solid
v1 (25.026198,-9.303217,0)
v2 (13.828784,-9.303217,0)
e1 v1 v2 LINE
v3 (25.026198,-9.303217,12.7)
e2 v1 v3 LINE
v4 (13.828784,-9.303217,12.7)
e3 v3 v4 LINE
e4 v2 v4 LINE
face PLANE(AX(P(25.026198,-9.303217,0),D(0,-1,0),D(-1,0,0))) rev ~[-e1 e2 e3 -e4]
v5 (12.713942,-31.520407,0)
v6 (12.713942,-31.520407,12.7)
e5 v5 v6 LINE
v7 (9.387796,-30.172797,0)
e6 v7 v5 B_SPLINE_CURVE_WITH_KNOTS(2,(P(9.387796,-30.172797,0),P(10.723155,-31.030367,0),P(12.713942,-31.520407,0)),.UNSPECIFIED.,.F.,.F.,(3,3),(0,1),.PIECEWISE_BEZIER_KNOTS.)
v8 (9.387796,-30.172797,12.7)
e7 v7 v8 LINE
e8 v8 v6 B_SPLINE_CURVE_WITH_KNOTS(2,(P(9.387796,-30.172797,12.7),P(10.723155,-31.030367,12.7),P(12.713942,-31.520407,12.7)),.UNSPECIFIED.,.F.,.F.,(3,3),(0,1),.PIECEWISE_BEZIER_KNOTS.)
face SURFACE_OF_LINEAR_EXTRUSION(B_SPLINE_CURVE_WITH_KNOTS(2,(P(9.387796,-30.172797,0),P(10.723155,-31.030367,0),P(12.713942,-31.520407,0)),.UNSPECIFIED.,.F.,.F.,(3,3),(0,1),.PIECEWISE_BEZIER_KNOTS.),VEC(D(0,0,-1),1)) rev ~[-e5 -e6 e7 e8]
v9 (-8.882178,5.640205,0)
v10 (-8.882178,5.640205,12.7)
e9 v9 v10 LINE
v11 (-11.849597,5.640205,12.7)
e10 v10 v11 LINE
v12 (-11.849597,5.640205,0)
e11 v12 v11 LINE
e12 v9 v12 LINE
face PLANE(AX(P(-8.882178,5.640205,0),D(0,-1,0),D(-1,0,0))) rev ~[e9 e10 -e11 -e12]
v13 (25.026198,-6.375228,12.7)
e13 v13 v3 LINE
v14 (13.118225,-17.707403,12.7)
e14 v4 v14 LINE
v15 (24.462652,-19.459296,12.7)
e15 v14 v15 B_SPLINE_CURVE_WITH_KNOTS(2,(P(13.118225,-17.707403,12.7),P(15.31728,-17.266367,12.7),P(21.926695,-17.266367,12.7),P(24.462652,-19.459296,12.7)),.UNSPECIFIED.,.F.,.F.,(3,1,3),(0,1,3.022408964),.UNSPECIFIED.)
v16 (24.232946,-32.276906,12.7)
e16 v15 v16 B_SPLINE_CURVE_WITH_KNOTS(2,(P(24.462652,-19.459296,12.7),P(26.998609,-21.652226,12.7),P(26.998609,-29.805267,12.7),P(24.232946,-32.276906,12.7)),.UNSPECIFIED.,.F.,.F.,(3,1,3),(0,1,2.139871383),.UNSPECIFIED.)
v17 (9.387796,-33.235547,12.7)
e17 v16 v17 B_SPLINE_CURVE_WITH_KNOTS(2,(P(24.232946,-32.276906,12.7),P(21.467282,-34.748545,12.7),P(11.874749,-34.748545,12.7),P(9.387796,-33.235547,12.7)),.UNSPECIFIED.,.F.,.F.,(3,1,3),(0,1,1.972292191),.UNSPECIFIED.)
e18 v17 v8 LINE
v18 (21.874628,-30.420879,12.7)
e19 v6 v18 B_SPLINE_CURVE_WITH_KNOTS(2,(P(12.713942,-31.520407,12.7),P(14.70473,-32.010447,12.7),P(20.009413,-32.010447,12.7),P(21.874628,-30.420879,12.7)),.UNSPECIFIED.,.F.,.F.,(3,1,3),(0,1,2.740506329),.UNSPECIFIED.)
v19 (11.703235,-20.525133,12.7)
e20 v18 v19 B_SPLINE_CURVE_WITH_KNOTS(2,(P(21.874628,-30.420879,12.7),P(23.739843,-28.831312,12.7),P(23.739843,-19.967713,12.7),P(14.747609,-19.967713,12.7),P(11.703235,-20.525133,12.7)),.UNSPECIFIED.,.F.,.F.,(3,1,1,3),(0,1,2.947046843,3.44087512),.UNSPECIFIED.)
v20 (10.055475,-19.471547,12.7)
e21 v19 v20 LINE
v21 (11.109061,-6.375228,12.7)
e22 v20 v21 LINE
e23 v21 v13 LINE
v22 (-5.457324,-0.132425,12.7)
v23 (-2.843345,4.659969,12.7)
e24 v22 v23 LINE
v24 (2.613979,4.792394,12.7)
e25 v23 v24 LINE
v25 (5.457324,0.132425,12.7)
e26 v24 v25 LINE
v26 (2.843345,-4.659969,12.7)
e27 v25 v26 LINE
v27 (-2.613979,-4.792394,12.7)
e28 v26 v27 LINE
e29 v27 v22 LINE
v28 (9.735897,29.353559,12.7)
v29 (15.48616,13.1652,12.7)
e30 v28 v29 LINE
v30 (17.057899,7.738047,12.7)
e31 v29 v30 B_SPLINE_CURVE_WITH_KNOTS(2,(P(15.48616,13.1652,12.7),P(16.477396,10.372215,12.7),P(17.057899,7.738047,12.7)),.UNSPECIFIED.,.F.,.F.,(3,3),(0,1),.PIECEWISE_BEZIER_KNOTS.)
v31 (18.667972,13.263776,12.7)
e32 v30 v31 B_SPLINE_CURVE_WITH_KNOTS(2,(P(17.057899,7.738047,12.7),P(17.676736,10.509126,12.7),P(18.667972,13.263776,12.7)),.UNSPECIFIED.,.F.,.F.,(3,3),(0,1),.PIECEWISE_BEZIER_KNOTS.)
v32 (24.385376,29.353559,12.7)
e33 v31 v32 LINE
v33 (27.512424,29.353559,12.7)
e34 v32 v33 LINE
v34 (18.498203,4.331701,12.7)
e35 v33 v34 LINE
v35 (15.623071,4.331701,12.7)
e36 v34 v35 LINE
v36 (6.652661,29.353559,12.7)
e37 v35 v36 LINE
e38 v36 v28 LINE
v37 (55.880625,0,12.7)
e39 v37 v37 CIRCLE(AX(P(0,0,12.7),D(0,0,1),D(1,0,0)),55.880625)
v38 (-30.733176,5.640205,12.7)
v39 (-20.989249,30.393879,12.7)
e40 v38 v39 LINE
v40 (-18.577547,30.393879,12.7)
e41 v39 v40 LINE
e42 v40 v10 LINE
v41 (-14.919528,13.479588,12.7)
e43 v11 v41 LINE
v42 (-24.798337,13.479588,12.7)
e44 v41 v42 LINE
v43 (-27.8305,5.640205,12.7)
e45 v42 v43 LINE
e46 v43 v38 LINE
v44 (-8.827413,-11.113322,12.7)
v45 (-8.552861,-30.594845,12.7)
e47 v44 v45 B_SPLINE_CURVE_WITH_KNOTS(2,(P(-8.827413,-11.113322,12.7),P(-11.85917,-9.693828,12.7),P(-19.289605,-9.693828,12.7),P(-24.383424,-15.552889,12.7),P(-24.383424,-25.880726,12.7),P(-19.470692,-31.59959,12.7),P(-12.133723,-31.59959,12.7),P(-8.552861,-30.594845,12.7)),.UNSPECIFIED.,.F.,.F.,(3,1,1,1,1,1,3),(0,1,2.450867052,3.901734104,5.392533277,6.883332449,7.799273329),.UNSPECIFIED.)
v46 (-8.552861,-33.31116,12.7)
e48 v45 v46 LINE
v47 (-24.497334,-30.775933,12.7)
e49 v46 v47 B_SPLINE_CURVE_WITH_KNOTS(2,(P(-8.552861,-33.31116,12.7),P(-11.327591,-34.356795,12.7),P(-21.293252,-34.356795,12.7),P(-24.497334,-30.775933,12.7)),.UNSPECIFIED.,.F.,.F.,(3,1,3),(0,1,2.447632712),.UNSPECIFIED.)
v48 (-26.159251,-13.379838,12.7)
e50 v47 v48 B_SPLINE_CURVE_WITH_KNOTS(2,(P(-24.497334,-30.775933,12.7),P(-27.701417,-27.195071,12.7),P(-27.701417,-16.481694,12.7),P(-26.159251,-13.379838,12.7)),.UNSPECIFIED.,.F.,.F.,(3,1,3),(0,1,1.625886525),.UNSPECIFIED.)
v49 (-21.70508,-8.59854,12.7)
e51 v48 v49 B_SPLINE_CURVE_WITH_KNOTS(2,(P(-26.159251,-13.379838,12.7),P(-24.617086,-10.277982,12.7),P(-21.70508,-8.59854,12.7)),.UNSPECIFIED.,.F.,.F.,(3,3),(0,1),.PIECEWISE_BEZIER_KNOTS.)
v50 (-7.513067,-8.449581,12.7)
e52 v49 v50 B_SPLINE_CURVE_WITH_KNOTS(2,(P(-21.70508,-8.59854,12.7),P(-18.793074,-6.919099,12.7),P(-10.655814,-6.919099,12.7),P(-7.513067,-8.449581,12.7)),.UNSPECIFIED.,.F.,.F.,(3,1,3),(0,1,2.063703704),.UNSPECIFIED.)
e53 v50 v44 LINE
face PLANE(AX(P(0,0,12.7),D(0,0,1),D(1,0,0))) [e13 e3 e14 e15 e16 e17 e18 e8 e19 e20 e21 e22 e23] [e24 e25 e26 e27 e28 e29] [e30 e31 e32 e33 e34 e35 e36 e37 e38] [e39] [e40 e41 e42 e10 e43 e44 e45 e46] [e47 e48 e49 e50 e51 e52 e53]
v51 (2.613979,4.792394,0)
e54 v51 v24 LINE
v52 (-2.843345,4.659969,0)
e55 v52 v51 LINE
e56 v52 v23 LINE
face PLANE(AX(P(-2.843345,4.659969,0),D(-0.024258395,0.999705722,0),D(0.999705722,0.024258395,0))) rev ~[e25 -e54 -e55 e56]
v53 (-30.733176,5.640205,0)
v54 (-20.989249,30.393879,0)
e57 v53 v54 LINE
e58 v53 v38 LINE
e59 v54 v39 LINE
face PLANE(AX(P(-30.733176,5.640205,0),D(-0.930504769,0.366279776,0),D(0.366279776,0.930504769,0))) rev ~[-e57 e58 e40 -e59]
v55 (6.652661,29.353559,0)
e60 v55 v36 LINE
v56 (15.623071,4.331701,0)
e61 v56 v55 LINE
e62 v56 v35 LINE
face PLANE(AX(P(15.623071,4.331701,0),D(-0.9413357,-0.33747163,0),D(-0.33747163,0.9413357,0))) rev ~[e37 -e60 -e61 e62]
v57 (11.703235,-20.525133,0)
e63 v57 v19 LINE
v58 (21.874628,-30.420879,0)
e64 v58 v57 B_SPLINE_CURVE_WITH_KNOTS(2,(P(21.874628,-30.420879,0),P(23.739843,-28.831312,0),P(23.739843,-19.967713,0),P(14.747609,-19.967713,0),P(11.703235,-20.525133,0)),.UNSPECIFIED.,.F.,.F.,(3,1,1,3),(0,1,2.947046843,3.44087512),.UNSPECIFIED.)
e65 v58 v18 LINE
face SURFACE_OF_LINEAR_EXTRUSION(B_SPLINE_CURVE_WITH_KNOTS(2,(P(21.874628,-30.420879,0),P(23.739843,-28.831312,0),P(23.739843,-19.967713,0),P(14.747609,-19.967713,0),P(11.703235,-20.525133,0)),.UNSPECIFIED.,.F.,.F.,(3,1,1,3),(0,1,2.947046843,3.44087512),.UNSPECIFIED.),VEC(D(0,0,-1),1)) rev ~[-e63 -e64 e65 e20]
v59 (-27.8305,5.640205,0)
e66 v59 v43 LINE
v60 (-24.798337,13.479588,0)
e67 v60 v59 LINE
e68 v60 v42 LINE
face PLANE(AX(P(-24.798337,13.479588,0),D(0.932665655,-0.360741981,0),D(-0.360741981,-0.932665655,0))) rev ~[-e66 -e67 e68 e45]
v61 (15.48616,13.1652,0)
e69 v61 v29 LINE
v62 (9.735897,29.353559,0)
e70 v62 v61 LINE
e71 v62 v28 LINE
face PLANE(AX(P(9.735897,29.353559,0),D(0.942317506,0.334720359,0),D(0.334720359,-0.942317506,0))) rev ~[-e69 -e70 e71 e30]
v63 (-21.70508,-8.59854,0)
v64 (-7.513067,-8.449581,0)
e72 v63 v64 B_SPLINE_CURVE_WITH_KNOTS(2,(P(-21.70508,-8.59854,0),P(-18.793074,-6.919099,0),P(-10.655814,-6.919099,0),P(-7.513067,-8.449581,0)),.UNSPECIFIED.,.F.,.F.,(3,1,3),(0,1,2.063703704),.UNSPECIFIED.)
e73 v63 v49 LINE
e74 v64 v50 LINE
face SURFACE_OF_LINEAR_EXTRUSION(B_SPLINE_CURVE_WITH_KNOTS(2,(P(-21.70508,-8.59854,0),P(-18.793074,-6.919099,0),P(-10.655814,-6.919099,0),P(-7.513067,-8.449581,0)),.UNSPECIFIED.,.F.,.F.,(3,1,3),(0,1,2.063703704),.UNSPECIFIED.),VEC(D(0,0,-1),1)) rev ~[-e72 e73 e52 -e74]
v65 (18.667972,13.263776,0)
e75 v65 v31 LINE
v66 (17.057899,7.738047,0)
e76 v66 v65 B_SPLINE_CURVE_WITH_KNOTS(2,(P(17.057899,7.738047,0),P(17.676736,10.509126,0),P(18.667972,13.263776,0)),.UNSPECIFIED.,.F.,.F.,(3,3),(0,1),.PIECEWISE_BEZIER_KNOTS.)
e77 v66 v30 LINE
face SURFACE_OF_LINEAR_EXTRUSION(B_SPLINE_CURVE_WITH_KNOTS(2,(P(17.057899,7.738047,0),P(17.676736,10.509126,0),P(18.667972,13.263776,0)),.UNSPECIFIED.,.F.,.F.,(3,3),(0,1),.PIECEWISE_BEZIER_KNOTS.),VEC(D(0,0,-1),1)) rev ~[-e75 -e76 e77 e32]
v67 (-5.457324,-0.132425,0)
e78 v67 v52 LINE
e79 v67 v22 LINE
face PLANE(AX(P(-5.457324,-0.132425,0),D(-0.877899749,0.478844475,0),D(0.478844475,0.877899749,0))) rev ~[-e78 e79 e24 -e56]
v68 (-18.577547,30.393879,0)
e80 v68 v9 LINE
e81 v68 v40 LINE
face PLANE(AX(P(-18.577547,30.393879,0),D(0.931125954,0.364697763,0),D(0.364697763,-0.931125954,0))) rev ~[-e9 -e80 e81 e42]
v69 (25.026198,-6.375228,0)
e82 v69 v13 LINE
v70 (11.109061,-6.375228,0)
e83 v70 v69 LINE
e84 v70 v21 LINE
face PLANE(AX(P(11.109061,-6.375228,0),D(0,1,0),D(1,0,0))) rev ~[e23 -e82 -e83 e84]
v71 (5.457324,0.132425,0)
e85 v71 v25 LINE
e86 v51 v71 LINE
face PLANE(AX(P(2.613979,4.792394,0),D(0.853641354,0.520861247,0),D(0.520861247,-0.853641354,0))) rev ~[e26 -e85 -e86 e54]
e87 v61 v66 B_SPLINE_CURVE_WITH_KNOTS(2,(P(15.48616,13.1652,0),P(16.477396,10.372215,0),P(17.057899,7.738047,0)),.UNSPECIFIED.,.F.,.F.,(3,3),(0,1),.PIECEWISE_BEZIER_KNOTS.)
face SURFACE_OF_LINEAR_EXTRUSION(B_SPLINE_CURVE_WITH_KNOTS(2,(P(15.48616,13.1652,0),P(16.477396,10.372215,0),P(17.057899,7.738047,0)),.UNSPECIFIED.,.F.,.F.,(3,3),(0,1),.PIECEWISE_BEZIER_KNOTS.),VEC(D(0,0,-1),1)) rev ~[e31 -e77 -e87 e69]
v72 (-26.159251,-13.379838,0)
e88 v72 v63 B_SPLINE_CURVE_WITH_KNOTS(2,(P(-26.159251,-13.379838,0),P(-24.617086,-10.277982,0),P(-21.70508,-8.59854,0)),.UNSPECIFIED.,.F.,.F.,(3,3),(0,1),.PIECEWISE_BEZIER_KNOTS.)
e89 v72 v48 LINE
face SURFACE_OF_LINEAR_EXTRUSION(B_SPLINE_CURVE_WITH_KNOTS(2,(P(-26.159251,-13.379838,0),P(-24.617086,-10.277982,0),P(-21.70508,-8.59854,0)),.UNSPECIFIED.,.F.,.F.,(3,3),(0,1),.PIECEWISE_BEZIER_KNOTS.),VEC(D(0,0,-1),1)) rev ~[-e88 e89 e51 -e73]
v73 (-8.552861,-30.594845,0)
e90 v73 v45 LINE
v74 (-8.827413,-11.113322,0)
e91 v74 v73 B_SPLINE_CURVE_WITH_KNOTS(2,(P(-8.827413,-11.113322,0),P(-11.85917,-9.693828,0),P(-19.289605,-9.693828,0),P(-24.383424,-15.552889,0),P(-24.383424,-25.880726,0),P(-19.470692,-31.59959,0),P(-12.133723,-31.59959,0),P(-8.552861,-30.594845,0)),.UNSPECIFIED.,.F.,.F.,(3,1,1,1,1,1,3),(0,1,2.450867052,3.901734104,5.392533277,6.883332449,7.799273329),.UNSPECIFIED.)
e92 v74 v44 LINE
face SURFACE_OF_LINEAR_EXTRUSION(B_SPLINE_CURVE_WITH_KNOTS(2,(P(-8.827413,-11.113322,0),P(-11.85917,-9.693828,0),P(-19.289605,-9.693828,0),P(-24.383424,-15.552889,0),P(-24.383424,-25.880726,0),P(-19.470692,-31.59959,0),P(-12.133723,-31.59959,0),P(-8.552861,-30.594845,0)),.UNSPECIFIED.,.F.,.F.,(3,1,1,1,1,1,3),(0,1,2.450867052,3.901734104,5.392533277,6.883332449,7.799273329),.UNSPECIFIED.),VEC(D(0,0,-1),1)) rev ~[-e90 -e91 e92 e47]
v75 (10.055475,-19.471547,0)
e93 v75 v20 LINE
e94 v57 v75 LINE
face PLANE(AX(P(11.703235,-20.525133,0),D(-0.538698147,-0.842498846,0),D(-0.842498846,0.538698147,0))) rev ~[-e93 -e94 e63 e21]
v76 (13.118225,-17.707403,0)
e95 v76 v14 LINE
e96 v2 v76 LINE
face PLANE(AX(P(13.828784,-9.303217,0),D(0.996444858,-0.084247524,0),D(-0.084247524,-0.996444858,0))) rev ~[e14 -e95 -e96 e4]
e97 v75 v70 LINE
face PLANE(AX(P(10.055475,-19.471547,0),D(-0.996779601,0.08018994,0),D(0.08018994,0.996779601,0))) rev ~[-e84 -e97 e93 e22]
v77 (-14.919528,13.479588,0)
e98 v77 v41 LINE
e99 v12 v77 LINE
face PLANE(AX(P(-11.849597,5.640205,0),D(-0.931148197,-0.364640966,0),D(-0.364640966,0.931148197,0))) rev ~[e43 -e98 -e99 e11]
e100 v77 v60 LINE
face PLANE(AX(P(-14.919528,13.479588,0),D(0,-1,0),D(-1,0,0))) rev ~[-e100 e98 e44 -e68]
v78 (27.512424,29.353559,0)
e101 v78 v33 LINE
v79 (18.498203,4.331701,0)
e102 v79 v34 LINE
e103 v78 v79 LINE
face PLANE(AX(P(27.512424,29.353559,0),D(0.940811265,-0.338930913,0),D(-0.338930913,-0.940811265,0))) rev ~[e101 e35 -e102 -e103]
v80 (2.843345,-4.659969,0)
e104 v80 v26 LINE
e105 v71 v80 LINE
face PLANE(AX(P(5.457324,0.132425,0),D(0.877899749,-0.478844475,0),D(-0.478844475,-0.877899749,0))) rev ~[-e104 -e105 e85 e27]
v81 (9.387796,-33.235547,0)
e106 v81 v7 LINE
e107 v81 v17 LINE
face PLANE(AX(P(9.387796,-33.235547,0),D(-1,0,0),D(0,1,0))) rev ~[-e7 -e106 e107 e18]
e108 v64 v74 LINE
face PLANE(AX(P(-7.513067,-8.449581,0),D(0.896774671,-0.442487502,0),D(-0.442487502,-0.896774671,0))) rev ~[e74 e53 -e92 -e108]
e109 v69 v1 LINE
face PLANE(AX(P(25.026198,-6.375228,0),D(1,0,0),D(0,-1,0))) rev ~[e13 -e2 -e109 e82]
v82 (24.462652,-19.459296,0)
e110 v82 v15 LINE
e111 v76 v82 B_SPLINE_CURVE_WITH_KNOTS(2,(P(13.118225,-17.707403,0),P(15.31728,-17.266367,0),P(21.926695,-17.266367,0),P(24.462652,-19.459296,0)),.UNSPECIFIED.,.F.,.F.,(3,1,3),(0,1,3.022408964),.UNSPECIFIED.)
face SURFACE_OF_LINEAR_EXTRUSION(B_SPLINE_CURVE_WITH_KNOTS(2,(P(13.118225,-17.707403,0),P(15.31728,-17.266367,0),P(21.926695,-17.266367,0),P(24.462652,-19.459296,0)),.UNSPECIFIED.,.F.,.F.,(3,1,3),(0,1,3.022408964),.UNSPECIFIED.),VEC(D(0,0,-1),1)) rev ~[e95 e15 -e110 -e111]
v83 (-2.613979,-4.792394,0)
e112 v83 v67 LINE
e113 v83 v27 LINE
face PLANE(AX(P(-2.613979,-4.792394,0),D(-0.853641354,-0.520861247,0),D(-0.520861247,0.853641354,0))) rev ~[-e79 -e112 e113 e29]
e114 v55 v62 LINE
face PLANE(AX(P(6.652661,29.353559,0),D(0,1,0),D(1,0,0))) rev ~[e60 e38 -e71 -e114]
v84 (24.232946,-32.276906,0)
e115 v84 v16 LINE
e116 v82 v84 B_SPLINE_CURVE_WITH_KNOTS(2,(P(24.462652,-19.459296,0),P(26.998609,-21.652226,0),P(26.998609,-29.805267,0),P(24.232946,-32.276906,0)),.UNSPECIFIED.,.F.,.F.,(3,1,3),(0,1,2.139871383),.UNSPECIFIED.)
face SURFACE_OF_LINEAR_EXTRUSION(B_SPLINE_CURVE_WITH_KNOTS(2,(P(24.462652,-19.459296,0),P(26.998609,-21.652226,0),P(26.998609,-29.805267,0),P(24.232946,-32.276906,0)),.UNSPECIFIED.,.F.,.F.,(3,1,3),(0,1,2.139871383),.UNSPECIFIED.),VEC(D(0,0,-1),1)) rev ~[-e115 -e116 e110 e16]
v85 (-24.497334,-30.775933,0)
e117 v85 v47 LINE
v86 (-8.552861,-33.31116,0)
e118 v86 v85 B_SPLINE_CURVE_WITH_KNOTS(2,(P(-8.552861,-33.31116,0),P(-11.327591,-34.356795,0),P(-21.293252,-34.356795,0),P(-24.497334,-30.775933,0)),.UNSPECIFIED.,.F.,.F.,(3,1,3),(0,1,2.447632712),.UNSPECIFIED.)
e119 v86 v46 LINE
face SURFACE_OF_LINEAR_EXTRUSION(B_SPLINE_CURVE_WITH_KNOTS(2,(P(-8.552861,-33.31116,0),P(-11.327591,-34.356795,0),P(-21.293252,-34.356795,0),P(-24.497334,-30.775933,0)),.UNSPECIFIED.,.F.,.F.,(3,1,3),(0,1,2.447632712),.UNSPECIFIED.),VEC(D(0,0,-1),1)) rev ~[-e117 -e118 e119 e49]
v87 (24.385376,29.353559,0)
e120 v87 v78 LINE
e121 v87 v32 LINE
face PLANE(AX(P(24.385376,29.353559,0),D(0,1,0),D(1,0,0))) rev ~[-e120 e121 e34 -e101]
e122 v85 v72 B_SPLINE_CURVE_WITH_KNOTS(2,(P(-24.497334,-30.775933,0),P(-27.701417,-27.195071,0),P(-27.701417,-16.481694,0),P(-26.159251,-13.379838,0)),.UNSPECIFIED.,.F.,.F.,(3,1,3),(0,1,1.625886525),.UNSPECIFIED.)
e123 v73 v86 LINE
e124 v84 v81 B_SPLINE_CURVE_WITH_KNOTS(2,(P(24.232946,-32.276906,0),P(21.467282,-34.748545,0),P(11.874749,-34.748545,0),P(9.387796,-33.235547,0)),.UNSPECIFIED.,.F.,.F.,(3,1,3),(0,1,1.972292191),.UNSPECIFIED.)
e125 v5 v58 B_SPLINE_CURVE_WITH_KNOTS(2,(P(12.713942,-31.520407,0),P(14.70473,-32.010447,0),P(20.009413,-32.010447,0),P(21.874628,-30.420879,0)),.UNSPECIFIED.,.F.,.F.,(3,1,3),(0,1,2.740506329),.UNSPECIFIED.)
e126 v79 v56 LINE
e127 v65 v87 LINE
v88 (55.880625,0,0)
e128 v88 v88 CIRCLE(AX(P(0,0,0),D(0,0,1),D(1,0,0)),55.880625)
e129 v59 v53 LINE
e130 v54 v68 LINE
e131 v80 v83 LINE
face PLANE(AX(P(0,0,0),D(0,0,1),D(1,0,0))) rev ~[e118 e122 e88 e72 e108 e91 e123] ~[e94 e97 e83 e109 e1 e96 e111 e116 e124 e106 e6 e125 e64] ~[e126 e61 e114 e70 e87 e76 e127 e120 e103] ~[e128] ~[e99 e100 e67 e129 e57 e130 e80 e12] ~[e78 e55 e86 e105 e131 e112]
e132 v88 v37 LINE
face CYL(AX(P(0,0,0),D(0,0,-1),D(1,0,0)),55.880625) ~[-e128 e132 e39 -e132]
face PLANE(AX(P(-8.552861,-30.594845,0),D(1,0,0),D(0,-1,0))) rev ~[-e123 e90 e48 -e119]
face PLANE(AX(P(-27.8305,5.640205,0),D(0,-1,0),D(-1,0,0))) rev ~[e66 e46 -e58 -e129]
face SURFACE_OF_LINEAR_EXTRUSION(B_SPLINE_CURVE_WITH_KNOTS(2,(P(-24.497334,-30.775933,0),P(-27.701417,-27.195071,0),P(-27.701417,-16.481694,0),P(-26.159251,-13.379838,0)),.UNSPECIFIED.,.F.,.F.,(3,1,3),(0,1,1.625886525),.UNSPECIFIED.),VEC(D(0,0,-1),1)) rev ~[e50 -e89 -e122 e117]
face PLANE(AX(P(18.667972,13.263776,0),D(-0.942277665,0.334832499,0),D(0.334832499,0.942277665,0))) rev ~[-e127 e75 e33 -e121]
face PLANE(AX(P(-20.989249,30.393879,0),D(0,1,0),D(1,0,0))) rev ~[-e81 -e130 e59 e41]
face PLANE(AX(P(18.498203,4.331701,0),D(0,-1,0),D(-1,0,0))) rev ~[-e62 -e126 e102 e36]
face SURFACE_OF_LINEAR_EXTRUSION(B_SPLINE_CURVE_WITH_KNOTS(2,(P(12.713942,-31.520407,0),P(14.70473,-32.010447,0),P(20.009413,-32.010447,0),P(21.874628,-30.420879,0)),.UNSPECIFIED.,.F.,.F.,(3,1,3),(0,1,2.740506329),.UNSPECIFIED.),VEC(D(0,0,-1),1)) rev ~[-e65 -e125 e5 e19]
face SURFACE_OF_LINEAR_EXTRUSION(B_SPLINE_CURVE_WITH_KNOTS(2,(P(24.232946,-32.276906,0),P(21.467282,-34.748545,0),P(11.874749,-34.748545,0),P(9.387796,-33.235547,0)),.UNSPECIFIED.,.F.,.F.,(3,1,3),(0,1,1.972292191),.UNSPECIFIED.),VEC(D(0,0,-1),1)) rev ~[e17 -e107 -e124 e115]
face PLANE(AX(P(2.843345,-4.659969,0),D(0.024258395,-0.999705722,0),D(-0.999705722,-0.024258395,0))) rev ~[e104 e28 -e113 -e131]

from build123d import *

# Parameters (mm, degrees)
F0_R     = 55.8806252639
F1_DEPTH = 12.7


with BuildPart() as f1:
    # F0 (on Top) → F1 (new body)
    with BuildSketch(Plane.XY):
        Circle(F0_R)
        with BuildLine():
            add(Edge.make_bspline(
                [(-8.8274130972, -11.1133217732), (-11.8591704488, -9.6938284468), (-14.8909278004, -9.6938284468)],
                knots=[0, 0, 0, 1, 1, 1], degree=2))
            add(Edge.make_bspline(
                [(-14.8909278004, -9.6938284468), (-19.2896046515, -9.6938284468), (-21.8365144883, -12.6233589127)],
                knots=[0, 0, 0, 1, 1, 1], degree=2))
            add(Edge.make_bspline(
                [(-21.8365144883, -12.6233589127), (-24.3834243251, -15.5528893786), (-24.3834243251, -20.6467090522)],
                knots=[0, 0, 0, 1, 1, 1], degree=2))
            add(Edge.make_bspline(
                [(-24.3834243251, -20.6467090522), (-24.3834243251, -25.8807255975), (-21.9270583013, -28.7401576276)],
                knots=[0, 0, 0, 1, 1, 1], degree=2))
            add(Edge.make_bspline(
                [(-21.9270583013, -28.7401576276), (-19.4706922775, -31.5995896577), (-14.9259770183, -31.5995896577)],
                knots=[0, 0, 0, 1, 1, 1], degree=2))
            add(Edge.make_bspline(
                [(-14.9259770183, -31.5995896577), (-12.133722656, -31.5995896577), (-8.55286089, -30.5948454101)],
                knots=[0, 0, 0, 1, 1, 1], degree=2))
            Line((-8.55286089, -30.5948454101), (-8.55286089, -33.3111598003))
            add(Edge.make_bspline(
                [(-8.55286089, -33.3111598003), (-11.3275906434, -34.3567948021), (-15.3991414605, -34.3567948021)],
                knots=[0, 0, 0, 1, 1, 1], degree=2))
            add(Edge.make_bspline(
                [(-15.3991414605, -34.3567948021), (-21.2932516103, -34.3567948021), (-24.4973342834, -30.7759330361)],
                knots=[0, 0, 0, 1, 1, 1], degree=2))
            add(Edge.make_bspline(
                [(-24.4973342834, -30.7759330361), (-27.7014169565, -27.1950712702), (-27.7014169565, -20.605818298)],
                knots=[0, 0, 0, 1, 1, 1], degree=2))
            add(Edge.make_bspline(
                [(-27.7014169565, -20.605818298), (-27.7014169565, -16.481693654), (-26.1592513673, -13.3798378665)],
                knots=[0, 0, 0, 1, 1, 1], degree=2))
            add(Edge.make_bspline(
                [(-26.1592513673, -13.3798378665), (-24.617085778, -10.2779820791), (-21.705079921, -8.5985403862)],
                knots=[0, 0, 0, 1, 1, 1], degree=2))
            add(Edge.make_bspline(
                [(-21.705079921, -8.5985403862), (-18.7930740641, -6.9190986934), (-14.8500370461, -6.9190986934)],
                knots=[0, 0, 0, 1, 1, 1], degree=2))
            add(Edge.make_bspline(
                [(-14.8500370461, -6.9190986934), (-10.6558139663, -6.9190986934), (-7.5130674245, -8.44958121)],
                knots=[0, 0, 0, 1, 1, 1], degree=2))
            Line((-7.5130674245, -8.44958121), (-8.8274130972, -11.1133217732))
        make_face(mode=Mode.SUBTRACT)
        Polygon((-2.8433452334, 4.6599686343), (2.6139786014, 4.792393521), (5.4573238349, 0.1324248867), (2.8433452334, -4.6599686343), (-2.6139786014, -4.792393521), (-5.4573238349, -0.1324248867), align=None, mode=Mode.SUBTRACT)
        with BuildLine():
            add(Edge.make_bspline(
                [(13.118225471, -17.7074033137), (15.3172801058, -17.2663672866), (17.5040837399, -17.2663672866)],
                knots=[0, 0, 0, 1, 1, 1], degree=2))
            add(Edge.make_bspline(
                [(17.5040837399, -17.2663672866), (21.926695011, -17.2663672866), (24.4626521665, -19.4592964211)],
                knots=[0, 0, 0, 1, 1, 1], degree=2))
            add(Edge.make_bspline(
                [(24.4626521665, -19.4592964211), (26.998609322, -21.6522255555), (26.998609322, -25.4622867892)],
                knots=[0, 0, 0, 1, 1, 1], degree=2))
            add(Edge.make_bspline(
                [(26.998609322, -25.4622867892), (26.998609322, -29.8052665554), (24.2329459024, -32.276905957)],
                knots=[0, 0, 0, 1, 1, 1], degree=2))
            add(Edge.make_bspline(
                [(24.2329459024, -32.276905957), (21.4672824829, -34.7485453585), (16.6036351847, -34.7485453585)],
                knots=[0, 0, 0, 1, 1, 1], degree=2))
            add(Edge.make_bspline(
                [(16.6036351847, -34.7485453585), (11.8747488947, -34.7485453585), (9.3877957422, -33.2355467658)],
                knots=[0, 0, 0, 1, 1, 1], degree=2))
            Line((9.3877957422, -33.2355467658), (9.3877957422, -30.172796578))
            add(Edge.make_bspline(
                [(9.3877957422, -30.172796578), (10.7231548241, -31.0303666306), (12.7139424462, -31.5204066606)],
                knots=[0, 0, 0, 1, 1, 1], degree=2))
            add(Edge.make_bspline(
                [(12.7139424462, -31.5204066606), (14.7047300682, -32.0104466906), (16.6403881869, -32.0104466906)],
                knots=[0, 0, 0, 1, 1, 1], degree=2))
            add(Edge.make_bspline(
                [(16.6403881869, -32.0104466906), (20.0094133935, -32.0104466906), (21.8746282578, -30.4208793432)],
                knots=[0, 0, 0, 1, 1, 1], degree=2))
            add(Edge.make_bspline(
                [(21.8746282578, -30.4208793432), (23.7398431222, -28.8313119957), (23.7398431222, -25.8236913113)],
                knots=[0, 0, 0, 1, 1, 1], degree=2))
            add(Edge.make_bspline(
                [(23.7398431222, -25.8236913113), (23.7398431222, -19.9677129523), (16.5668821824, -19.9677129523)],
                knots=[0, 0, 0, 1, 1, 1], degree=2))
            add(Edge.make_bspline(
                [(16.5668821824, -19.9677129523), (14.7476085709, -19.9677129523), (11.7032348842, -20.5251334864)],
                knots=[0, 0, 0, 1, 1, 1], degree=2))
            Line((11.7032348842, -20.5251334864), (10.0554752832, -19.4715474218))
            Line((10.0554752832, -19.4715474218), (11.1090613478, -6.3752276189))
            Line((11.1090613478, -6.3752276189), (25.0261982011, -6.3752276189))
            Line((25.0261982011, -6.3752276189), (25.0261982011, -9.3032167984))
            Line((25.0261982011, -9.3032167984), (13.8287835145, -9.3032167984))
            Line((13.8287835145, -9.3032167984), (13.118225471, -17.7074033137))
        make_face(mode=Mode.SUBTRACT)
        Polygon((-8.8821777954, 5.6402049959), (-11.8495973103, 5.6402049959), (-14.9195276811, 13.4795878234), (-24.7983370116, 13.4795878234), (-27.830500225, 5.6402049959), (-30.7331760414, 5.6402049959), (-20.9892494161, 30.3938790583), (-18.5775466468, 30.3938790583), align=None, mode=Mode.SUBTRACT)
        with BuildLine():
            Line((18.6679722386, 13.2637759067), (24.385376429, 29.3535589635))
            Line((24.385376429, 29.3535589635), (27.5124241231, 29.3535589635))
            Line((27.5124241231, 29.3535589635), (18.4982025739, 4.3317009695))
            Line((18.4982025739, 4.3317009695), (15.6230711564, 4.3317009695))
            Line((15.6230711564, 4.3317009695), (6.6526611336, 29.3535589635))
            Line((6.6526611336, 29.3535589635), (9.7358973013, 29.3535589635))
            Line((9.7358973013, 29.3535589635), (15.4861601365, 13.1651999724))
            add(Edge.make_bspline(
                [(15.4861601365, 13.1651999724), (16.4773959204, 10.3722151668), (17.0578986448, 7.7380471442)],
                knots=[0, 0, 0, 1, 1, 1], degree=2))
            add(Edge.make_bspline(
                [(17.0578986448, 7.7380471442), (17.6767364546, 10.5091261867), (18.6679722386, 13.2637759067)],
                knots=[0, 0, 0, 1, 1, 1], degree=2))
        make_face(mode=Mode.SUBTRACT)
    extrude(amount=F1_DEPTH)


solid = f1.part
